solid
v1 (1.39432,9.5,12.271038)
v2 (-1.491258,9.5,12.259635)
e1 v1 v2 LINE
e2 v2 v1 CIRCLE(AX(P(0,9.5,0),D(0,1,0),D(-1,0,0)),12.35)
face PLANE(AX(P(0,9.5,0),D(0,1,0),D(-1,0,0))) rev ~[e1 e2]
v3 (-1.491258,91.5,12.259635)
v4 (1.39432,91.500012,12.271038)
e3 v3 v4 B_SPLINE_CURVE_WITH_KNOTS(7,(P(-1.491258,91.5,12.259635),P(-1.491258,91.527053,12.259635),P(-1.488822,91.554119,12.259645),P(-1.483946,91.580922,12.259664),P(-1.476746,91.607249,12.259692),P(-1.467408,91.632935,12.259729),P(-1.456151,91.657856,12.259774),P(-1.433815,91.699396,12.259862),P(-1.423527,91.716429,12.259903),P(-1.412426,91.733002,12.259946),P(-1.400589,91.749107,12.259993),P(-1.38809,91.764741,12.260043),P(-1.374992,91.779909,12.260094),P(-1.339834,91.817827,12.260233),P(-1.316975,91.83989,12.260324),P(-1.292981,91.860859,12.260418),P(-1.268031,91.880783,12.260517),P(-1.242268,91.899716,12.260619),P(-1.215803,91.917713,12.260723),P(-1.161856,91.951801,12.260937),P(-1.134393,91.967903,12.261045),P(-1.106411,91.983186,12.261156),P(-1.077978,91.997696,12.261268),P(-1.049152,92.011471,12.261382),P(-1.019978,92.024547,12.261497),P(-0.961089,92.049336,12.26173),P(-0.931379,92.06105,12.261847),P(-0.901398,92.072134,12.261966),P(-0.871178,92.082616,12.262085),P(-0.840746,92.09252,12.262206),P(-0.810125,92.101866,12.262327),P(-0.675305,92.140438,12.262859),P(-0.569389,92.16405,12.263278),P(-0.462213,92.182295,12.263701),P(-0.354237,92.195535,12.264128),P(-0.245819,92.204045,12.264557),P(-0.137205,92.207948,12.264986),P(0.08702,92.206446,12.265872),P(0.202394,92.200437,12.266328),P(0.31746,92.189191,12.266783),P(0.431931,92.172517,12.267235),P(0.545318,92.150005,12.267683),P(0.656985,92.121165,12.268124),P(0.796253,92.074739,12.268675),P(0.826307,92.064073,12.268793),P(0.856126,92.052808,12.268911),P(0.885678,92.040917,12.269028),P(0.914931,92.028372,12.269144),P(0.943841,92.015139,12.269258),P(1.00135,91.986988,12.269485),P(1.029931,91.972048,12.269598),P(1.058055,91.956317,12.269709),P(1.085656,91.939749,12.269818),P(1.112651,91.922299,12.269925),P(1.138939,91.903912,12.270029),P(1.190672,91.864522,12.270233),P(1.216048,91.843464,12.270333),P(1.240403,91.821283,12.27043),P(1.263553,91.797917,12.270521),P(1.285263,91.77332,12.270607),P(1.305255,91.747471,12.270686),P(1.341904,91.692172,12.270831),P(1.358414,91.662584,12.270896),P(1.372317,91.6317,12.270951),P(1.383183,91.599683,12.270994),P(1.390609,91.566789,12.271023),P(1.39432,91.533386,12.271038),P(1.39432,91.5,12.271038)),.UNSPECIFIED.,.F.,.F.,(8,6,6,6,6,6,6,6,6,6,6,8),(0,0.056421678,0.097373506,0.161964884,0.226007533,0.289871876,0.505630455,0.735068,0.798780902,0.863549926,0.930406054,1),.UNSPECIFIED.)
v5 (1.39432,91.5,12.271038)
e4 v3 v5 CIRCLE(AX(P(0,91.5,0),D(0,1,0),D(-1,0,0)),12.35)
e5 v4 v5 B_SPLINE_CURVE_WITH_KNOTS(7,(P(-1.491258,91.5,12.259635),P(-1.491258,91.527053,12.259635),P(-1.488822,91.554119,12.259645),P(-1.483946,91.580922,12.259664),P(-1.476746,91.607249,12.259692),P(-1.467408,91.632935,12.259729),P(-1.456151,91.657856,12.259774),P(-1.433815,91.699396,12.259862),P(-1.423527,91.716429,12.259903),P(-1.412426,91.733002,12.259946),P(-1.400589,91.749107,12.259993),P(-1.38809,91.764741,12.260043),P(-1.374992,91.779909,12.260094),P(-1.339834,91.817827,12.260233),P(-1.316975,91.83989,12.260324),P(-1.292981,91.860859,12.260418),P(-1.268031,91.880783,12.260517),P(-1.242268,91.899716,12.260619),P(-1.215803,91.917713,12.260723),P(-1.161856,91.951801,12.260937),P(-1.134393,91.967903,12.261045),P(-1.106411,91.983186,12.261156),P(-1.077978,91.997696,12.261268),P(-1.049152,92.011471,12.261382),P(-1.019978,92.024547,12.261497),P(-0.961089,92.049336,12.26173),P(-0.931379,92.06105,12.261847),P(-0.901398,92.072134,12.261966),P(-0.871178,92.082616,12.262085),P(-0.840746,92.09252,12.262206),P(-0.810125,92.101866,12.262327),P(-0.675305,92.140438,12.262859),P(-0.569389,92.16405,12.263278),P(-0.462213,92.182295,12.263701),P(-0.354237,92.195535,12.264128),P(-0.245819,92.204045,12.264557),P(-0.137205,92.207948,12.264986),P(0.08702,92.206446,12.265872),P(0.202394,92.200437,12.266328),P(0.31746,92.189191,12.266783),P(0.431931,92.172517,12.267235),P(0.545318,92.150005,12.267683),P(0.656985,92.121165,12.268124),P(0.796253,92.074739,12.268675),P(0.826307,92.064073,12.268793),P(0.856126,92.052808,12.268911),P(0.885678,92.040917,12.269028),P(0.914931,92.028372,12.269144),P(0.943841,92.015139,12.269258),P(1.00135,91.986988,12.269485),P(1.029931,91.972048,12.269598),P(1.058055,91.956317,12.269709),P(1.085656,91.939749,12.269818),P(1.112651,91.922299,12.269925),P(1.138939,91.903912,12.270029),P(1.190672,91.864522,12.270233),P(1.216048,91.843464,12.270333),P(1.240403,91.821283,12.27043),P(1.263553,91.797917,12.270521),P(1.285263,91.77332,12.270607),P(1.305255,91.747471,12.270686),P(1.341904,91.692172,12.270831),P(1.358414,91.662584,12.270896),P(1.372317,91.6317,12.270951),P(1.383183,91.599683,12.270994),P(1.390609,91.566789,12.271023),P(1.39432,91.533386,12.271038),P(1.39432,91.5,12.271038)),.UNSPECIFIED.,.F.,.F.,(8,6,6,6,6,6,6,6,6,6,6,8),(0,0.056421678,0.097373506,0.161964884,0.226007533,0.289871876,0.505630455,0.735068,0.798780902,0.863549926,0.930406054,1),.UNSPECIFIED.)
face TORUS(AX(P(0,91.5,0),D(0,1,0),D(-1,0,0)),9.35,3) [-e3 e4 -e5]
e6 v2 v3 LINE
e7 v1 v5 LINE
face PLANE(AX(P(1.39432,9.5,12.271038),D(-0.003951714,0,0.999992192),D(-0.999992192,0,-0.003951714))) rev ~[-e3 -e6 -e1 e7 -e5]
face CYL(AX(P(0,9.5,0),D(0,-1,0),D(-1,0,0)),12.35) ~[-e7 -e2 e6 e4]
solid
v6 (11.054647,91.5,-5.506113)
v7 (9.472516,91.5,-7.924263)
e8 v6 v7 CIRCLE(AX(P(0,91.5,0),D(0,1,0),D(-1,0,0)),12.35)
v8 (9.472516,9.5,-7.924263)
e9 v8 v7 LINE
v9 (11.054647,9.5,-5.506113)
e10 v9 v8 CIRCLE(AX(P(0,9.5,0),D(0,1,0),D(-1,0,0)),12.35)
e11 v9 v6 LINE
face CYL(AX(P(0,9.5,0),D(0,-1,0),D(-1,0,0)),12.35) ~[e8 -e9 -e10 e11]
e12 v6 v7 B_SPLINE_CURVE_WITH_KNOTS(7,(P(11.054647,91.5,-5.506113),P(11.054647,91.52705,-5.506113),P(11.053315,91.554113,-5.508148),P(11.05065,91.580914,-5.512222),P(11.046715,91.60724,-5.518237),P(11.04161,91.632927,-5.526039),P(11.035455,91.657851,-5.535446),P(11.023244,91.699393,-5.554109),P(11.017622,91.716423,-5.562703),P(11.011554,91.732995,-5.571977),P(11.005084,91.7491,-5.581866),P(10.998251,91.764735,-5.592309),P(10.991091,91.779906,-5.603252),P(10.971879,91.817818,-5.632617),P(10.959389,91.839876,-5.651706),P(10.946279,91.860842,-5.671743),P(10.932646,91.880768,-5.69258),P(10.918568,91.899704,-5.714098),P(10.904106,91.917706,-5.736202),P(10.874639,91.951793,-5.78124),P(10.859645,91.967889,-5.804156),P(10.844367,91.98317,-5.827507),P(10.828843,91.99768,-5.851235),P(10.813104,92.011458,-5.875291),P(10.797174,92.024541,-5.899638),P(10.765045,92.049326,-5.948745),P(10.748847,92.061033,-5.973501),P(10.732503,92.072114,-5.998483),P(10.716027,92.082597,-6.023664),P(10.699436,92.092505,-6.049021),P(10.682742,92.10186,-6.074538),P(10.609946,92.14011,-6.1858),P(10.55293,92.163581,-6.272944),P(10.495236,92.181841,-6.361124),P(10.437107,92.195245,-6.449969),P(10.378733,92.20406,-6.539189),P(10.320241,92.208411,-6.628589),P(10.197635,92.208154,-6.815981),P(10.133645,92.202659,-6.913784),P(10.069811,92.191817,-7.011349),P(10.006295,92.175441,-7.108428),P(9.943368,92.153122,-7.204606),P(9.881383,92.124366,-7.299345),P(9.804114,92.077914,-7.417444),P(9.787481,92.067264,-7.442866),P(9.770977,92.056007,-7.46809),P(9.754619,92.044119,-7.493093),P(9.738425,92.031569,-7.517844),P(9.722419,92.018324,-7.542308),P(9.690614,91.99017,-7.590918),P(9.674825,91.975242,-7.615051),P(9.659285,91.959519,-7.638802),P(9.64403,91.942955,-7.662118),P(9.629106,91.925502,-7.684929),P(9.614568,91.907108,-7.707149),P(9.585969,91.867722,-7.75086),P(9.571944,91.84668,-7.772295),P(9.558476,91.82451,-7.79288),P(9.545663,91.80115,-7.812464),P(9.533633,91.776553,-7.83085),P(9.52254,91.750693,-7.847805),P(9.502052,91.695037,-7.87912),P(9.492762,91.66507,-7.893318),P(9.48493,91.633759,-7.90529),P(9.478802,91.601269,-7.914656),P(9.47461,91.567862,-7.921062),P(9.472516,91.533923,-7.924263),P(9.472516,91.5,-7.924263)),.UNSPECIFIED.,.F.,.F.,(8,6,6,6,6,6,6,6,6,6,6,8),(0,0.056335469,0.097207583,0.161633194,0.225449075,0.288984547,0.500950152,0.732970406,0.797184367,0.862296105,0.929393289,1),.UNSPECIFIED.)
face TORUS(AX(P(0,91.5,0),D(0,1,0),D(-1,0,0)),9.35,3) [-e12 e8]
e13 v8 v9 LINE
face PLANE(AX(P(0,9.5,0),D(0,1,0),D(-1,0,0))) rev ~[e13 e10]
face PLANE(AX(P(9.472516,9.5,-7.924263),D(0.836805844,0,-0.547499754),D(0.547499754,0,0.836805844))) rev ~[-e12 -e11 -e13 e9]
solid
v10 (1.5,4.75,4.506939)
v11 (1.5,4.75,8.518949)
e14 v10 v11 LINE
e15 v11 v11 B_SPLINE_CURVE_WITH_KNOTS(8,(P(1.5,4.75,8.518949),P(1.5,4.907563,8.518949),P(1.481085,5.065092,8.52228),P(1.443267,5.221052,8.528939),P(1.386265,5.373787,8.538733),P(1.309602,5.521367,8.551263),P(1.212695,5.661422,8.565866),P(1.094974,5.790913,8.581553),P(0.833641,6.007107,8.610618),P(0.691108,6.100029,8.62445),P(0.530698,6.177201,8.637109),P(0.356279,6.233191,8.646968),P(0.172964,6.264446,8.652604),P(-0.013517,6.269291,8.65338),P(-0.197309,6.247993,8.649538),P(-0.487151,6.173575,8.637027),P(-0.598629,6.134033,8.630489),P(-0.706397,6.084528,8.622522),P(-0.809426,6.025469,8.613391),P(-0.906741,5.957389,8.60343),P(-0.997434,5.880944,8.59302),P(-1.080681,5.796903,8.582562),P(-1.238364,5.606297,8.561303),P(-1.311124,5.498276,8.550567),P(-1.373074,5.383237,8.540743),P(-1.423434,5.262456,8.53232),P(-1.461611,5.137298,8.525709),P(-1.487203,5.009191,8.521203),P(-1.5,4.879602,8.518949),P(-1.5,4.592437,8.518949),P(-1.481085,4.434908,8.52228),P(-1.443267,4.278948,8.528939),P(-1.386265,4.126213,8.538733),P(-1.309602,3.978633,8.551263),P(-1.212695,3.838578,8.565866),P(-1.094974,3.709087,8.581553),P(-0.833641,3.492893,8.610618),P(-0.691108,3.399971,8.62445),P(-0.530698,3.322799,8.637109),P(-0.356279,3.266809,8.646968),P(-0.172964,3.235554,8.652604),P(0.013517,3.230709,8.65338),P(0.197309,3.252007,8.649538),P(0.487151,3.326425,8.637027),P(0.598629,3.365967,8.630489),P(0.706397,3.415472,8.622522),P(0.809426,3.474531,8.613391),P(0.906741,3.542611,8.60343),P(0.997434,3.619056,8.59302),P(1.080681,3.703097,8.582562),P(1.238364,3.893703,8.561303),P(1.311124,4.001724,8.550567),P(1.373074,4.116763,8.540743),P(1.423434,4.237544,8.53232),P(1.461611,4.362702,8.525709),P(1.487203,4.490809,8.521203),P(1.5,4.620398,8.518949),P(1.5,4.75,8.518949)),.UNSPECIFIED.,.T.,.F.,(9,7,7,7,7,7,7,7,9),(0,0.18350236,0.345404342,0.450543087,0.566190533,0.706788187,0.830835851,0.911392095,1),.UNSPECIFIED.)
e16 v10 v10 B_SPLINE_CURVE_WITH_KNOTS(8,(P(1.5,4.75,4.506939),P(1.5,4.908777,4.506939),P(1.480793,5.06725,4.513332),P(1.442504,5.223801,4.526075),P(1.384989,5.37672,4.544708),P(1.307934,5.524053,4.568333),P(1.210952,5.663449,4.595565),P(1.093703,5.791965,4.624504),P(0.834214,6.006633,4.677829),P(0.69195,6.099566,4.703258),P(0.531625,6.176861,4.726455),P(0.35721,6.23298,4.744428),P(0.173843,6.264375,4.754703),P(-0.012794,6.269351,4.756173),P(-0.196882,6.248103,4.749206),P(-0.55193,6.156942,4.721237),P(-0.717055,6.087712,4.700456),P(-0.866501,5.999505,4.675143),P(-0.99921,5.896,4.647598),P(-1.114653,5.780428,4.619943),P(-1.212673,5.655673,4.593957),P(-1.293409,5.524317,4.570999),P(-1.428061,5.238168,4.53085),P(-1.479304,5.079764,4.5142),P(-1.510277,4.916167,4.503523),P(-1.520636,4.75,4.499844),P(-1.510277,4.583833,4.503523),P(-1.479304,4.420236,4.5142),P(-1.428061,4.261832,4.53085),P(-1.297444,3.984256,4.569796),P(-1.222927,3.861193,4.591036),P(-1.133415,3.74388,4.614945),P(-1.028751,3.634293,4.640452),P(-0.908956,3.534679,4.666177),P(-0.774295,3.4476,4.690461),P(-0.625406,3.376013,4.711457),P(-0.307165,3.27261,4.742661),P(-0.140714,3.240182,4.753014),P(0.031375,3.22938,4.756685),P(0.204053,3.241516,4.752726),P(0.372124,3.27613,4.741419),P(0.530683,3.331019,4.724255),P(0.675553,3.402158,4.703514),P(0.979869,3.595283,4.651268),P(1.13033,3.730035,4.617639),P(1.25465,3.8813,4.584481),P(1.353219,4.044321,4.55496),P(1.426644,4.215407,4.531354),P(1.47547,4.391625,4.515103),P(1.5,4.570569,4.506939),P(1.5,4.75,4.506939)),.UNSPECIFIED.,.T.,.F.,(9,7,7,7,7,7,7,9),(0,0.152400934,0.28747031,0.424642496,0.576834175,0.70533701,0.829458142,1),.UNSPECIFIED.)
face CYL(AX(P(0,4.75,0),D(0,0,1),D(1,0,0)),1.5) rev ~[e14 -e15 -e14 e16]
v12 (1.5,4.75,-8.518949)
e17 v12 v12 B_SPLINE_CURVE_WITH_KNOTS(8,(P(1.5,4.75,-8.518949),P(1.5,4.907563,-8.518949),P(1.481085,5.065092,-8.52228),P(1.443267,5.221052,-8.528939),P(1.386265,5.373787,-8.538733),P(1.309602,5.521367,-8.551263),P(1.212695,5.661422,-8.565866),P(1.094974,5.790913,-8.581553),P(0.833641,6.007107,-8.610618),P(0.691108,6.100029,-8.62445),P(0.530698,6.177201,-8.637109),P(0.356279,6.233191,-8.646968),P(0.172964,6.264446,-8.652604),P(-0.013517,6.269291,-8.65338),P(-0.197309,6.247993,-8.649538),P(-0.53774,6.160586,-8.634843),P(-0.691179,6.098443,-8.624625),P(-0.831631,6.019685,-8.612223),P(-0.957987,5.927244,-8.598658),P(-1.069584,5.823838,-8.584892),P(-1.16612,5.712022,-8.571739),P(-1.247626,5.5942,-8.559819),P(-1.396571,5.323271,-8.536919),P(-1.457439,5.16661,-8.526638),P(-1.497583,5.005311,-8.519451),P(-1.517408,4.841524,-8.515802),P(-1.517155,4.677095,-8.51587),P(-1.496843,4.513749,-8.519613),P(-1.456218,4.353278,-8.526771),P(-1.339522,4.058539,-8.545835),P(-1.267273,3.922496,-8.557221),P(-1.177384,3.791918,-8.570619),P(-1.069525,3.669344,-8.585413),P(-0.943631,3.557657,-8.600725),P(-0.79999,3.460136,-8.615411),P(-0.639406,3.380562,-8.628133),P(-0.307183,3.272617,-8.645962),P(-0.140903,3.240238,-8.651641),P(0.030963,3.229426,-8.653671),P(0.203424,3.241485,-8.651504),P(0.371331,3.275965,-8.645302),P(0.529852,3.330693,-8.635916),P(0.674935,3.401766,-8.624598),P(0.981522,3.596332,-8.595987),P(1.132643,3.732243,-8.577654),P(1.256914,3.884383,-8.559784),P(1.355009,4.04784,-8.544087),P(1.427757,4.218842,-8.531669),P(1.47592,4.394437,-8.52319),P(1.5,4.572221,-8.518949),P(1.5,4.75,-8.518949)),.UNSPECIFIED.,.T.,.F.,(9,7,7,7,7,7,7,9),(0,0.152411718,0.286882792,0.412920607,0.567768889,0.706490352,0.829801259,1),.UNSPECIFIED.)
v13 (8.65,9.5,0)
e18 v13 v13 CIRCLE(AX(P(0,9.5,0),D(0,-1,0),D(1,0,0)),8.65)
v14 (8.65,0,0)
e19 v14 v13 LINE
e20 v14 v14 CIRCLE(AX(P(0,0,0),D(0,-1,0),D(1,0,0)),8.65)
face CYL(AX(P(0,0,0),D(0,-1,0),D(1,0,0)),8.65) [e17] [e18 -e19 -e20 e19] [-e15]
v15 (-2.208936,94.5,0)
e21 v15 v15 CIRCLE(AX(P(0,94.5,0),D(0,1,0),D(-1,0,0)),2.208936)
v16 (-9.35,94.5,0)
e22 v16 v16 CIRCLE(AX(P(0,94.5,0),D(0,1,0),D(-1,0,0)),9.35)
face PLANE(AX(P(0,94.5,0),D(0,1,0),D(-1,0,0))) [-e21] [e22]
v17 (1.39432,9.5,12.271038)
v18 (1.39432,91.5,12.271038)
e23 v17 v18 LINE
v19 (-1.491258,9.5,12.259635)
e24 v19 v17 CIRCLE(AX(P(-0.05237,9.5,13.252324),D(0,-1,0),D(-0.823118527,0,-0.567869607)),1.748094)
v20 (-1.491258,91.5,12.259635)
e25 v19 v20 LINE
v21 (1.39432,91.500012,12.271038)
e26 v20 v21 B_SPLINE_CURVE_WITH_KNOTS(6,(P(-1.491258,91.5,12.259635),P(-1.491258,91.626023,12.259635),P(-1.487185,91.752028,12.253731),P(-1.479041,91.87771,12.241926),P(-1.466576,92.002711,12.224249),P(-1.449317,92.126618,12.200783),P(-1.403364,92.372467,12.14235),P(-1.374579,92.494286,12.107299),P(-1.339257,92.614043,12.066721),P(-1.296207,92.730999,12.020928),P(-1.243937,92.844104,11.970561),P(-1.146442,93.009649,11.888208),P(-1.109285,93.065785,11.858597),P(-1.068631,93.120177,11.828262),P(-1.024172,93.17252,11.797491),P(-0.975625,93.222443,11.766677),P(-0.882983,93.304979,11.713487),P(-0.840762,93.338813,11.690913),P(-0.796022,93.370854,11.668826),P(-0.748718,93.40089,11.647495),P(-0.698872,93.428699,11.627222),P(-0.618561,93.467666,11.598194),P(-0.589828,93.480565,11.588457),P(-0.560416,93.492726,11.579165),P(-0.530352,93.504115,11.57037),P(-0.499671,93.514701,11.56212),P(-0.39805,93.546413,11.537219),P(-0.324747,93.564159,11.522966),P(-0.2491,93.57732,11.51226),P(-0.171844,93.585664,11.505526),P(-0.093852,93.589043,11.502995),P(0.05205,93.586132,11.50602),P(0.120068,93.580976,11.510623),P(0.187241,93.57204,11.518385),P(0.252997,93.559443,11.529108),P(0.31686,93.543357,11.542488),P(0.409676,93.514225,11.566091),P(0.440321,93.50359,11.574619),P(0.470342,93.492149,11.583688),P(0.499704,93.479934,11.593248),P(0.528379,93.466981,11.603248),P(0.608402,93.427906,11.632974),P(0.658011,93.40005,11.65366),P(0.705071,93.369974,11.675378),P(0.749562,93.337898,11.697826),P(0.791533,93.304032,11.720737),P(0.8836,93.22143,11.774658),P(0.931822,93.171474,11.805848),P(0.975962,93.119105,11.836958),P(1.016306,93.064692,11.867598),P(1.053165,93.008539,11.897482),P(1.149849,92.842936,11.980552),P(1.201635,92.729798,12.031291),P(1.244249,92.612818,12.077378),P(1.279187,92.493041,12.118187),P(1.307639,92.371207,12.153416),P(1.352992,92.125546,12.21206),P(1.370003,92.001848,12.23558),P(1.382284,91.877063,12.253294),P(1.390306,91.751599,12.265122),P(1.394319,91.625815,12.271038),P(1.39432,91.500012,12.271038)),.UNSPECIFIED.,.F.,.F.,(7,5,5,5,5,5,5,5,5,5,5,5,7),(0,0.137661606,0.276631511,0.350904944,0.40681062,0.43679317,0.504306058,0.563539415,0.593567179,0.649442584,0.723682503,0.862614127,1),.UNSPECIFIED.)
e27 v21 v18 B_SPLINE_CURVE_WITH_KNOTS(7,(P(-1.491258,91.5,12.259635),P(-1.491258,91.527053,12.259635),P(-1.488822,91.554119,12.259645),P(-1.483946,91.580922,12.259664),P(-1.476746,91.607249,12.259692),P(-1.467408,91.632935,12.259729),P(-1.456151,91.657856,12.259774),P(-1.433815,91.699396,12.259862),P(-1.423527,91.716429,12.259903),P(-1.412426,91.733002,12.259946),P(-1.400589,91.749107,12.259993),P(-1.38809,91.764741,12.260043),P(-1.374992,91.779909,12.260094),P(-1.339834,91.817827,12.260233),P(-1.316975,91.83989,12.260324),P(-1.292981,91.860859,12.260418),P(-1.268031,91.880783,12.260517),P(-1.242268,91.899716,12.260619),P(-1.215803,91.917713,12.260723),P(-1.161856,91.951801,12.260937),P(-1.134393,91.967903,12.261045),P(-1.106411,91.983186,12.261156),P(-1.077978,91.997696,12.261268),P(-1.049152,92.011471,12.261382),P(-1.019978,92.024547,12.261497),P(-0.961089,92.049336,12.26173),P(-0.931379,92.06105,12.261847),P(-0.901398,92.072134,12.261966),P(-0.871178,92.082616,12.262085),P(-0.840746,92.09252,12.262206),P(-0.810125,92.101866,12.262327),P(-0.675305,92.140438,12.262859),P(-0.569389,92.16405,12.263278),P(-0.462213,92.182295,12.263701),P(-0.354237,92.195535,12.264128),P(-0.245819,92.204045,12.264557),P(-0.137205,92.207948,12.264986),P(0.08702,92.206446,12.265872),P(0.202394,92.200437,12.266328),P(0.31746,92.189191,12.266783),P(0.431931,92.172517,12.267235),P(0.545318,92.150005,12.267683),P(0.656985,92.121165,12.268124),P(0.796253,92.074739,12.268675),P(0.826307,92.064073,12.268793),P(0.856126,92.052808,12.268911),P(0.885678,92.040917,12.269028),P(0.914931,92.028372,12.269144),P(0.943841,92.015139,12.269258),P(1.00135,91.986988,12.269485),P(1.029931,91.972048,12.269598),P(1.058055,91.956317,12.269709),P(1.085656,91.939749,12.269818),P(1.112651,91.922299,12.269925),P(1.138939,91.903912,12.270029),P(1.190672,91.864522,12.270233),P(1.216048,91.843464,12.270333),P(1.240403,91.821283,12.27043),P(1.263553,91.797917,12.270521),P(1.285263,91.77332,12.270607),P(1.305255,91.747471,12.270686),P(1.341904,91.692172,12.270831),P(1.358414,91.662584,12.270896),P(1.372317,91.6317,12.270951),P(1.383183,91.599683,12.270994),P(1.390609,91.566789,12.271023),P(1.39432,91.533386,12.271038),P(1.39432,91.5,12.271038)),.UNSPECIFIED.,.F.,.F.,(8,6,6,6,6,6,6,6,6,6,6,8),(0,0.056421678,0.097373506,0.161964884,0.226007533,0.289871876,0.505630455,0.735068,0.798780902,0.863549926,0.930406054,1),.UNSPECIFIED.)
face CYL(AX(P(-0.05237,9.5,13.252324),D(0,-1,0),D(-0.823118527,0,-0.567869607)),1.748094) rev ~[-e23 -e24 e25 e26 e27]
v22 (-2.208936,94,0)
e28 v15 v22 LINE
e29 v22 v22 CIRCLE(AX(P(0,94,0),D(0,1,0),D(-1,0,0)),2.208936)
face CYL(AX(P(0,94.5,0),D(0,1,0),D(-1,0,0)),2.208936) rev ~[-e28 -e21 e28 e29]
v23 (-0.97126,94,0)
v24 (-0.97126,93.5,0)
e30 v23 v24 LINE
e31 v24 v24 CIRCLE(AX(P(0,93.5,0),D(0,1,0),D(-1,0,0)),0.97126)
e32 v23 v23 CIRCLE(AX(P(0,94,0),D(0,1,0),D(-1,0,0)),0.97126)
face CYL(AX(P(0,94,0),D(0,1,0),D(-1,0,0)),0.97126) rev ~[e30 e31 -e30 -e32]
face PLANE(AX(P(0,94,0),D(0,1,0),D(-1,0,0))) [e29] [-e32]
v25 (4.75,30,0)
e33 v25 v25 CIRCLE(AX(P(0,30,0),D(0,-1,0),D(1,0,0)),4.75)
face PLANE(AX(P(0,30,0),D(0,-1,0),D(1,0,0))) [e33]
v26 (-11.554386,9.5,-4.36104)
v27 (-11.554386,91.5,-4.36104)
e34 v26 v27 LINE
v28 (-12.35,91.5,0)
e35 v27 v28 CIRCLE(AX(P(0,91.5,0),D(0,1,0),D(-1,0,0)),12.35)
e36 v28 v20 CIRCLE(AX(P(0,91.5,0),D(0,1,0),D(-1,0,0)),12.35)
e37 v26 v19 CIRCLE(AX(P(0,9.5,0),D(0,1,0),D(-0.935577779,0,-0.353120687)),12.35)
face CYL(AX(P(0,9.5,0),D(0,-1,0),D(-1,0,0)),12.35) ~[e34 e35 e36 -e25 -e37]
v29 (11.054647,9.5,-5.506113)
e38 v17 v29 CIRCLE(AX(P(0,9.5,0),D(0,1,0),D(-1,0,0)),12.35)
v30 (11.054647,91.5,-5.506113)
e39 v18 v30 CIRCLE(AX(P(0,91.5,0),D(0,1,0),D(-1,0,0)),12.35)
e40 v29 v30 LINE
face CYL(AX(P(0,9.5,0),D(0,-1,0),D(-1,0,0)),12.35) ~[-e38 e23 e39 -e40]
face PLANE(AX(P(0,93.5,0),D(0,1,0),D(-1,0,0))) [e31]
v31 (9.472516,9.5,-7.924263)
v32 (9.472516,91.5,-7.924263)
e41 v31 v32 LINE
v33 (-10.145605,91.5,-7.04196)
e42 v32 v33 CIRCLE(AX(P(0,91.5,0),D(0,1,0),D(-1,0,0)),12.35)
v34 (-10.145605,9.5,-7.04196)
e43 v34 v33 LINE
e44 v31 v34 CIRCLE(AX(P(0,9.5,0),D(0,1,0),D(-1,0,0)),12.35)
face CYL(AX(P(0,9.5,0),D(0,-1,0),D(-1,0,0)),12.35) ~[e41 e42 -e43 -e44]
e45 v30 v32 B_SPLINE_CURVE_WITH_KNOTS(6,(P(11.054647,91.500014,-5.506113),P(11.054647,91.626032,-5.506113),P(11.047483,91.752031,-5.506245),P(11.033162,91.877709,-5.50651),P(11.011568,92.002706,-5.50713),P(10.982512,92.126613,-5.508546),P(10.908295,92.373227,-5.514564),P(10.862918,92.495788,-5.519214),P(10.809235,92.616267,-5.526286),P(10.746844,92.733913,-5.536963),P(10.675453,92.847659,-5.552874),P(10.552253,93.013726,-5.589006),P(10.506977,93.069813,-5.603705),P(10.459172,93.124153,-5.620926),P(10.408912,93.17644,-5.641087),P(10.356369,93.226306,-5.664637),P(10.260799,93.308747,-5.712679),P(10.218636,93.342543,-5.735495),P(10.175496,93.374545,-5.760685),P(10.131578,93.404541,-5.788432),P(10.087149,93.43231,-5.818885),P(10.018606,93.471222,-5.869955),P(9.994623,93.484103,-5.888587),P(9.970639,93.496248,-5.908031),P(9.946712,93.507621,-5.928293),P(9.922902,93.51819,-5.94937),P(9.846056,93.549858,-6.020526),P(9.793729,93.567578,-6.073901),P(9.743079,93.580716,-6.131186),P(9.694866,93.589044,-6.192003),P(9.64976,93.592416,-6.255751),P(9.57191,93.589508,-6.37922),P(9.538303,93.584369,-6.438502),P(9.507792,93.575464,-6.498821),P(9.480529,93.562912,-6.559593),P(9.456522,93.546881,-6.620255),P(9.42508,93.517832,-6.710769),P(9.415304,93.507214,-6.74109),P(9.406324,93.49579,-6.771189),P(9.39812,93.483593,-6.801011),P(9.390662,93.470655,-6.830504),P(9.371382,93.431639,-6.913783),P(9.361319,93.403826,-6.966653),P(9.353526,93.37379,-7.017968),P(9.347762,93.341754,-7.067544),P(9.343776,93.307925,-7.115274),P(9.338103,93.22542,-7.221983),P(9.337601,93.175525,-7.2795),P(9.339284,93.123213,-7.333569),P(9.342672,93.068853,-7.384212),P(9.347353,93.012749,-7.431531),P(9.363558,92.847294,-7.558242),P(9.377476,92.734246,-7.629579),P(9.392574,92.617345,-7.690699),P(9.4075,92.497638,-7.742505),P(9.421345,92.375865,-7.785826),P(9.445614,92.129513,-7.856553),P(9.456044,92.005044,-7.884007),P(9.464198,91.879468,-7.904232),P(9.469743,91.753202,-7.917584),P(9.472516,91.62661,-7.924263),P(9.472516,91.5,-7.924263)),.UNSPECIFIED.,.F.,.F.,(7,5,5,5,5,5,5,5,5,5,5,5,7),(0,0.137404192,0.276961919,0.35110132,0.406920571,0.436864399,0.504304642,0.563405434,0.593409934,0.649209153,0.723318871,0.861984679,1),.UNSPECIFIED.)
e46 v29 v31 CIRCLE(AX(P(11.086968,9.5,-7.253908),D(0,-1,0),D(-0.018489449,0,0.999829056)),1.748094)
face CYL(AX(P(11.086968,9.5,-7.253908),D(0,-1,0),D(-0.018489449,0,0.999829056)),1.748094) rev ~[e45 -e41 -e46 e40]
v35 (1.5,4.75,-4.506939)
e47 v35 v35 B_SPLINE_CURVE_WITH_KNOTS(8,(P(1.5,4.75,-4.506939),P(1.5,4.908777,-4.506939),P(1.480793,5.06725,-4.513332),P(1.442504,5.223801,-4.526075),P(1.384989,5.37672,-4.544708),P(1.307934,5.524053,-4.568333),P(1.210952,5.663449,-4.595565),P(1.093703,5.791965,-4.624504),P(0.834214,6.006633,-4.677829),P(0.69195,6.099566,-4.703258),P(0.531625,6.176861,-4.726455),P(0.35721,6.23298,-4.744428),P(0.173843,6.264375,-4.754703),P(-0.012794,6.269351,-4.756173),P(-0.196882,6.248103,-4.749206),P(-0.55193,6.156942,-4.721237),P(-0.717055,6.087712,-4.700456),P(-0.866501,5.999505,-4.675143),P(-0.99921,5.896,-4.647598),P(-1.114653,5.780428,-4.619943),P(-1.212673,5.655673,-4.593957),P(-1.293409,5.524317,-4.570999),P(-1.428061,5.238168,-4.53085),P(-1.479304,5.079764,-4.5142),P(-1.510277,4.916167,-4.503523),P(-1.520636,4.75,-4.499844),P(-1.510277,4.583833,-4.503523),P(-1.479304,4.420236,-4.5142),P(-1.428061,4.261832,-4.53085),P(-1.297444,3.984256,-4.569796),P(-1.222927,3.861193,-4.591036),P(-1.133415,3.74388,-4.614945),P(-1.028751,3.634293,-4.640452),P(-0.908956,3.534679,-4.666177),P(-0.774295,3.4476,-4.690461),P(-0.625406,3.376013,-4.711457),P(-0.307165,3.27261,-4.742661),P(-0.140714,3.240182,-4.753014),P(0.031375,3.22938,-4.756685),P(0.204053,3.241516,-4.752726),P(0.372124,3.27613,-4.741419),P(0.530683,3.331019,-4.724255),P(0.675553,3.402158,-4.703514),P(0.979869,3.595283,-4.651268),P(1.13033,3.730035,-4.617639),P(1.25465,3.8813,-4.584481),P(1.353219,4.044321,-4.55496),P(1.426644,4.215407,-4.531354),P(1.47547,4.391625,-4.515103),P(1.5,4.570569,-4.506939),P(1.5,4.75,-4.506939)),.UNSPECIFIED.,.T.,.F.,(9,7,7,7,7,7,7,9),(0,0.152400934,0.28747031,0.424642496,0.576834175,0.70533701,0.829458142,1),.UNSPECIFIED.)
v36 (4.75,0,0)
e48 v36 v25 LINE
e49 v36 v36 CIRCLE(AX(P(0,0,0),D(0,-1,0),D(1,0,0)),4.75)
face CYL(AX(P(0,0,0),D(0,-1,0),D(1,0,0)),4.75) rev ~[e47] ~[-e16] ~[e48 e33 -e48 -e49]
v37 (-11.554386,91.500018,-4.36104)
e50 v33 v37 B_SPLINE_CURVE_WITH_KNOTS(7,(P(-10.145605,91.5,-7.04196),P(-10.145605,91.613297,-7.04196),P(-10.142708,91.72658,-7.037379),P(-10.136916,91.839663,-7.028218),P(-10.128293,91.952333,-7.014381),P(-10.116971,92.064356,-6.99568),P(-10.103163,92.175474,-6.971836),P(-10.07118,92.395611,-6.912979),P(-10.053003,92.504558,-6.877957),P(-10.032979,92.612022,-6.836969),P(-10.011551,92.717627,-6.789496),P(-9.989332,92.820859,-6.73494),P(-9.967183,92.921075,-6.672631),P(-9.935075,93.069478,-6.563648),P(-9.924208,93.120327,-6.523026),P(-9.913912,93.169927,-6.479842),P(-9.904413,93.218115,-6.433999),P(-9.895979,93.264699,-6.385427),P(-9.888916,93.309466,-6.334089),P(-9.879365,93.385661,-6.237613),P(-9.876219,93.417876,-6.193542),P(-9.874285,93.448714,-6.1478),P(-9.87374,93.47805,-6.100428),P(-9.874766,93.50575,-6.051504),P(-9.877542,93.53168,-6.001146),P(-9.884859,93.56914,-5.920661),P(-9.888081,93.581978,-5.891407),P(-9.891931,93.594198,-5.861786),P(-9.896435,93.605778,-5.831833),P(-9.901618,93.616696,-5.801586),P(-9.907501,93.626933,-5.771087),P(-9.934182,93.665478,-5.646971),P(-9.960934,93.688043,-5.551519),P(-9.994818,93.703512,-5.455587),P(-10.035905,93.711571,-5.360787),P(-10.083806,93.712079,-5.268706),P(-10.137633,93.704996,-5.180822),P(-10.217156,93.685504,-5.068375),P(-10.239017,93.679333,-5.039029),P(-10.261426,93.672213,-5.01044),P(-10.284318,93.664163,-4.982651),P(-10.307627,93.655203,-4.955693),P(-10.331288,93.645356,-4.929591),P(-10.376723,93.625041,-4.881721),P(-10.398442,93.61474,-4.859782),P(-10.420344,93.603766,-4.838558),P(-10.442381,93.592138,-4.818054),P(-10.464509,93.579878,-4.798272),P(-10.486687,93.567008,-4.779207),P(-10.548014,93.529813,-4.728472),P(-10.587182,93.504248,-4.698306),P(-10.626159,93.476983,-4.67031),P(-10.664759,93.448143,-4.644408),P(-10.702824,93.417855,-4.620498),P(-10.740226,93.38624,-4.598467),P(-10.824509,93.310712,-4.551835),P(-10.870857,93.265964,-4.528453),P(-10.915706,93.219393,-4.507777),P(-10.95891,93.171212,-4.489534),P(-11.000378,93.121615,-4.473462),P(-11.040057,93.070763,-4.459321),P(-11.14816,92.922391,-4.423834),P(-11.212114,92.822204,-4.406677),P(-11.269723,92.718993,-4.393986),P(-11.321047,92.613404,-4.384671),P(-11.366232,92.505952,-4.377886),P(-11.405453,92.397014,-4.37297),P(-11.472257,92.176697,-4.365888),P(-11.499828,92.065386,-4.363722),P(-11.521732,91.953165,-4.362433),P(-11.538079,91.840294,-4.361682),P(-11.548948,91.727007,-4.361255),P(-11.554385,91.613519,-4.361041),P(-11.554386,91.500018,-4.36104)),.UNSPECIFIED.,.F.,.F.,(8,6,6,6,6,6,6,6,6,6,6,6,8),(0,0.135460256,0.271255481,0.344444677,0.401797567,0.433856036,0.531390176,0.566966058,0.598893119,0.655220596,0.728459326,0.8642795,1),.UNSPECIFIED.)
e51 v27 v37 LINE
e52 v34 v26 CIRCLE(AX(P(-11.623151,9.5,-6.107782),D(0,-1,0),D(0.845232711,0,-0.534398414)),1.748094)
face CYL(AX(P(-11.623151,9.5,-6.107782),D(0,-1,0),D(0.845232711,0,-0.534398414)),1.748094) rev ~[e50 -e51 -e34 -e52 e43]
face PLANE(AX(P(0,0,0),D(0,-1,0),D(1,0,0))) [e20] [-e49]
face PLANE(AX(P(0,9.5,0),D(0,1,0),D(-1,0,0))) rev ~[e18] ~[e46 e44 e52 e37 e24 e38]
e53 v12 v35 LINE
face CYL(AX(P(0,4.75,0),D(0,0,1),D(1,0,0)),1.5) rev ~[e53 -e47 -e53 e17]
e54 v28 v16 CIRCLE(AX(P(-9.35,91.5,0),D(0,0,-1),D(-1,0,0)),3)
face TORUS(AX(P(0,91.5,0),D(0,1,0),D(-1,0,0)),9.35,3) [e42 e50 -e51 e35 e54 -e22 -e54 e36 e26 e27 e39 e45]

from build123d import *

# Parameters (mm, degrees)
F0_R      = 8.65
F0_R_2    = 4.75
F1_DEPTH  = 9.5
F2_R      = 12.35
F3_DEPTH  = 85
F4_R      = 4.75
F5_DEPTH  = 30
F6_R      = 3
F7_R      = 2.2089362083
F8_DEPTH  = 0.5
F9_R      = 0.9712597181
F10_DEPTH = 0.5
F12_DEPTH = 100
F13_R     = 1.5
F14_DEPTH = 50


with BuildPart() as f1:
    # F0 (on Front) → F1 (new body)
    with BuildSketch(Plane.XZ):
        Circle(F0_R)
        Circle(F0_R_2, mode=Mode.SUBTRACT)
        Circle(F0_R_2)
    extrude(amount=-F1_DEPTH)

    # F2 (on face) → F3 (join)
    with BuildSketch(Plane(origin=(0, 9.5, 0), x_dir=(-1, 0, 0), z_dir=(0, 1, 0))):
        Circle(F2_R)
    extrude(amount=F3_DEPTH)

    # F4 (on face) → F5 (cut)
    with BuildSketch(Plane.XZ):
        Circle(F4_R)
    extrude(amount=-F5_DEPTH, mode=Mode.SUBTRACT)

    # F6
    f6_edges = [f1.edges().sort_by_distance(p)[0] for p in [
        (12.35, 94.5, 0),
    ]]
    fillet(f6_edges, radius=F6_R)

    # F7 (on face) → F8 (cut)
    with BuildSketch(Plane(origin=(0, 94.5, 0), x_dir=(-1, 0, 0), z_dir=(0, 1, 0))):
        Circle(F7_R)
    extrude(amount=-F8_DEPTH, mode=Mode.SUBTRACT)

    # F9 (on face) → F10 (cut)
    with BuildSketch(Plane(origin=(0, 94, 0), x_dir=(-1, 0, 0), z_dir=(0, 1, 0))):
        Circle(F9_R)
    extrude(amount=-F10_DEPTH, mode=Mode.SUBTRACT)

    # F11 (on face) → F12 (cut)
    with BuildSketch(Plane.XZ.offset(-9.5)):
        with BuildLine():
            Line((1.3943195239, 12.2710379783), (-1.4912584729, 12.2596349117))
            ThreePointArc((-1.4912584729, 12.2596349117), (-0.0454618315, 11.5042439534), (1.3943195239, 12.2710379783))
        make_face()
        with BuildLine():
            Line((9.4725158679, -7.9242629394), (11.0546471813, -5.5061125757))
            ThreePointArc((11.0546471813, -5.5061125757), (9.6241530869, -6.2968267783), (9.4725158679, -7.9242629394))
        make_face()
        with BuildLine():
            ThreePointArc((-10.145604716, -7.0419603057), (-10.0757006279, -5.2946209032), (-11.5543855714, -4.3610404798))
            ThreePointArc((-11.5543855714, -4.3610404798), (-10.9324849598, -5.744847483), (-10.145604716, -7.0419603057))
        make_face()
    extrude(amount=-F12_DEPTH, mode=Mode.SUBTRACT)

    # F13 (on Top) → F14 (cut, symmetric)
    with BuildSketch(Plane.XY):
        with Locations((0, 4.75)):
            Circle(F13_R)
    extrude(amount=F14_DEPTH, both=True, mode=Mode.SUBTRACT)


solid = f1.part
